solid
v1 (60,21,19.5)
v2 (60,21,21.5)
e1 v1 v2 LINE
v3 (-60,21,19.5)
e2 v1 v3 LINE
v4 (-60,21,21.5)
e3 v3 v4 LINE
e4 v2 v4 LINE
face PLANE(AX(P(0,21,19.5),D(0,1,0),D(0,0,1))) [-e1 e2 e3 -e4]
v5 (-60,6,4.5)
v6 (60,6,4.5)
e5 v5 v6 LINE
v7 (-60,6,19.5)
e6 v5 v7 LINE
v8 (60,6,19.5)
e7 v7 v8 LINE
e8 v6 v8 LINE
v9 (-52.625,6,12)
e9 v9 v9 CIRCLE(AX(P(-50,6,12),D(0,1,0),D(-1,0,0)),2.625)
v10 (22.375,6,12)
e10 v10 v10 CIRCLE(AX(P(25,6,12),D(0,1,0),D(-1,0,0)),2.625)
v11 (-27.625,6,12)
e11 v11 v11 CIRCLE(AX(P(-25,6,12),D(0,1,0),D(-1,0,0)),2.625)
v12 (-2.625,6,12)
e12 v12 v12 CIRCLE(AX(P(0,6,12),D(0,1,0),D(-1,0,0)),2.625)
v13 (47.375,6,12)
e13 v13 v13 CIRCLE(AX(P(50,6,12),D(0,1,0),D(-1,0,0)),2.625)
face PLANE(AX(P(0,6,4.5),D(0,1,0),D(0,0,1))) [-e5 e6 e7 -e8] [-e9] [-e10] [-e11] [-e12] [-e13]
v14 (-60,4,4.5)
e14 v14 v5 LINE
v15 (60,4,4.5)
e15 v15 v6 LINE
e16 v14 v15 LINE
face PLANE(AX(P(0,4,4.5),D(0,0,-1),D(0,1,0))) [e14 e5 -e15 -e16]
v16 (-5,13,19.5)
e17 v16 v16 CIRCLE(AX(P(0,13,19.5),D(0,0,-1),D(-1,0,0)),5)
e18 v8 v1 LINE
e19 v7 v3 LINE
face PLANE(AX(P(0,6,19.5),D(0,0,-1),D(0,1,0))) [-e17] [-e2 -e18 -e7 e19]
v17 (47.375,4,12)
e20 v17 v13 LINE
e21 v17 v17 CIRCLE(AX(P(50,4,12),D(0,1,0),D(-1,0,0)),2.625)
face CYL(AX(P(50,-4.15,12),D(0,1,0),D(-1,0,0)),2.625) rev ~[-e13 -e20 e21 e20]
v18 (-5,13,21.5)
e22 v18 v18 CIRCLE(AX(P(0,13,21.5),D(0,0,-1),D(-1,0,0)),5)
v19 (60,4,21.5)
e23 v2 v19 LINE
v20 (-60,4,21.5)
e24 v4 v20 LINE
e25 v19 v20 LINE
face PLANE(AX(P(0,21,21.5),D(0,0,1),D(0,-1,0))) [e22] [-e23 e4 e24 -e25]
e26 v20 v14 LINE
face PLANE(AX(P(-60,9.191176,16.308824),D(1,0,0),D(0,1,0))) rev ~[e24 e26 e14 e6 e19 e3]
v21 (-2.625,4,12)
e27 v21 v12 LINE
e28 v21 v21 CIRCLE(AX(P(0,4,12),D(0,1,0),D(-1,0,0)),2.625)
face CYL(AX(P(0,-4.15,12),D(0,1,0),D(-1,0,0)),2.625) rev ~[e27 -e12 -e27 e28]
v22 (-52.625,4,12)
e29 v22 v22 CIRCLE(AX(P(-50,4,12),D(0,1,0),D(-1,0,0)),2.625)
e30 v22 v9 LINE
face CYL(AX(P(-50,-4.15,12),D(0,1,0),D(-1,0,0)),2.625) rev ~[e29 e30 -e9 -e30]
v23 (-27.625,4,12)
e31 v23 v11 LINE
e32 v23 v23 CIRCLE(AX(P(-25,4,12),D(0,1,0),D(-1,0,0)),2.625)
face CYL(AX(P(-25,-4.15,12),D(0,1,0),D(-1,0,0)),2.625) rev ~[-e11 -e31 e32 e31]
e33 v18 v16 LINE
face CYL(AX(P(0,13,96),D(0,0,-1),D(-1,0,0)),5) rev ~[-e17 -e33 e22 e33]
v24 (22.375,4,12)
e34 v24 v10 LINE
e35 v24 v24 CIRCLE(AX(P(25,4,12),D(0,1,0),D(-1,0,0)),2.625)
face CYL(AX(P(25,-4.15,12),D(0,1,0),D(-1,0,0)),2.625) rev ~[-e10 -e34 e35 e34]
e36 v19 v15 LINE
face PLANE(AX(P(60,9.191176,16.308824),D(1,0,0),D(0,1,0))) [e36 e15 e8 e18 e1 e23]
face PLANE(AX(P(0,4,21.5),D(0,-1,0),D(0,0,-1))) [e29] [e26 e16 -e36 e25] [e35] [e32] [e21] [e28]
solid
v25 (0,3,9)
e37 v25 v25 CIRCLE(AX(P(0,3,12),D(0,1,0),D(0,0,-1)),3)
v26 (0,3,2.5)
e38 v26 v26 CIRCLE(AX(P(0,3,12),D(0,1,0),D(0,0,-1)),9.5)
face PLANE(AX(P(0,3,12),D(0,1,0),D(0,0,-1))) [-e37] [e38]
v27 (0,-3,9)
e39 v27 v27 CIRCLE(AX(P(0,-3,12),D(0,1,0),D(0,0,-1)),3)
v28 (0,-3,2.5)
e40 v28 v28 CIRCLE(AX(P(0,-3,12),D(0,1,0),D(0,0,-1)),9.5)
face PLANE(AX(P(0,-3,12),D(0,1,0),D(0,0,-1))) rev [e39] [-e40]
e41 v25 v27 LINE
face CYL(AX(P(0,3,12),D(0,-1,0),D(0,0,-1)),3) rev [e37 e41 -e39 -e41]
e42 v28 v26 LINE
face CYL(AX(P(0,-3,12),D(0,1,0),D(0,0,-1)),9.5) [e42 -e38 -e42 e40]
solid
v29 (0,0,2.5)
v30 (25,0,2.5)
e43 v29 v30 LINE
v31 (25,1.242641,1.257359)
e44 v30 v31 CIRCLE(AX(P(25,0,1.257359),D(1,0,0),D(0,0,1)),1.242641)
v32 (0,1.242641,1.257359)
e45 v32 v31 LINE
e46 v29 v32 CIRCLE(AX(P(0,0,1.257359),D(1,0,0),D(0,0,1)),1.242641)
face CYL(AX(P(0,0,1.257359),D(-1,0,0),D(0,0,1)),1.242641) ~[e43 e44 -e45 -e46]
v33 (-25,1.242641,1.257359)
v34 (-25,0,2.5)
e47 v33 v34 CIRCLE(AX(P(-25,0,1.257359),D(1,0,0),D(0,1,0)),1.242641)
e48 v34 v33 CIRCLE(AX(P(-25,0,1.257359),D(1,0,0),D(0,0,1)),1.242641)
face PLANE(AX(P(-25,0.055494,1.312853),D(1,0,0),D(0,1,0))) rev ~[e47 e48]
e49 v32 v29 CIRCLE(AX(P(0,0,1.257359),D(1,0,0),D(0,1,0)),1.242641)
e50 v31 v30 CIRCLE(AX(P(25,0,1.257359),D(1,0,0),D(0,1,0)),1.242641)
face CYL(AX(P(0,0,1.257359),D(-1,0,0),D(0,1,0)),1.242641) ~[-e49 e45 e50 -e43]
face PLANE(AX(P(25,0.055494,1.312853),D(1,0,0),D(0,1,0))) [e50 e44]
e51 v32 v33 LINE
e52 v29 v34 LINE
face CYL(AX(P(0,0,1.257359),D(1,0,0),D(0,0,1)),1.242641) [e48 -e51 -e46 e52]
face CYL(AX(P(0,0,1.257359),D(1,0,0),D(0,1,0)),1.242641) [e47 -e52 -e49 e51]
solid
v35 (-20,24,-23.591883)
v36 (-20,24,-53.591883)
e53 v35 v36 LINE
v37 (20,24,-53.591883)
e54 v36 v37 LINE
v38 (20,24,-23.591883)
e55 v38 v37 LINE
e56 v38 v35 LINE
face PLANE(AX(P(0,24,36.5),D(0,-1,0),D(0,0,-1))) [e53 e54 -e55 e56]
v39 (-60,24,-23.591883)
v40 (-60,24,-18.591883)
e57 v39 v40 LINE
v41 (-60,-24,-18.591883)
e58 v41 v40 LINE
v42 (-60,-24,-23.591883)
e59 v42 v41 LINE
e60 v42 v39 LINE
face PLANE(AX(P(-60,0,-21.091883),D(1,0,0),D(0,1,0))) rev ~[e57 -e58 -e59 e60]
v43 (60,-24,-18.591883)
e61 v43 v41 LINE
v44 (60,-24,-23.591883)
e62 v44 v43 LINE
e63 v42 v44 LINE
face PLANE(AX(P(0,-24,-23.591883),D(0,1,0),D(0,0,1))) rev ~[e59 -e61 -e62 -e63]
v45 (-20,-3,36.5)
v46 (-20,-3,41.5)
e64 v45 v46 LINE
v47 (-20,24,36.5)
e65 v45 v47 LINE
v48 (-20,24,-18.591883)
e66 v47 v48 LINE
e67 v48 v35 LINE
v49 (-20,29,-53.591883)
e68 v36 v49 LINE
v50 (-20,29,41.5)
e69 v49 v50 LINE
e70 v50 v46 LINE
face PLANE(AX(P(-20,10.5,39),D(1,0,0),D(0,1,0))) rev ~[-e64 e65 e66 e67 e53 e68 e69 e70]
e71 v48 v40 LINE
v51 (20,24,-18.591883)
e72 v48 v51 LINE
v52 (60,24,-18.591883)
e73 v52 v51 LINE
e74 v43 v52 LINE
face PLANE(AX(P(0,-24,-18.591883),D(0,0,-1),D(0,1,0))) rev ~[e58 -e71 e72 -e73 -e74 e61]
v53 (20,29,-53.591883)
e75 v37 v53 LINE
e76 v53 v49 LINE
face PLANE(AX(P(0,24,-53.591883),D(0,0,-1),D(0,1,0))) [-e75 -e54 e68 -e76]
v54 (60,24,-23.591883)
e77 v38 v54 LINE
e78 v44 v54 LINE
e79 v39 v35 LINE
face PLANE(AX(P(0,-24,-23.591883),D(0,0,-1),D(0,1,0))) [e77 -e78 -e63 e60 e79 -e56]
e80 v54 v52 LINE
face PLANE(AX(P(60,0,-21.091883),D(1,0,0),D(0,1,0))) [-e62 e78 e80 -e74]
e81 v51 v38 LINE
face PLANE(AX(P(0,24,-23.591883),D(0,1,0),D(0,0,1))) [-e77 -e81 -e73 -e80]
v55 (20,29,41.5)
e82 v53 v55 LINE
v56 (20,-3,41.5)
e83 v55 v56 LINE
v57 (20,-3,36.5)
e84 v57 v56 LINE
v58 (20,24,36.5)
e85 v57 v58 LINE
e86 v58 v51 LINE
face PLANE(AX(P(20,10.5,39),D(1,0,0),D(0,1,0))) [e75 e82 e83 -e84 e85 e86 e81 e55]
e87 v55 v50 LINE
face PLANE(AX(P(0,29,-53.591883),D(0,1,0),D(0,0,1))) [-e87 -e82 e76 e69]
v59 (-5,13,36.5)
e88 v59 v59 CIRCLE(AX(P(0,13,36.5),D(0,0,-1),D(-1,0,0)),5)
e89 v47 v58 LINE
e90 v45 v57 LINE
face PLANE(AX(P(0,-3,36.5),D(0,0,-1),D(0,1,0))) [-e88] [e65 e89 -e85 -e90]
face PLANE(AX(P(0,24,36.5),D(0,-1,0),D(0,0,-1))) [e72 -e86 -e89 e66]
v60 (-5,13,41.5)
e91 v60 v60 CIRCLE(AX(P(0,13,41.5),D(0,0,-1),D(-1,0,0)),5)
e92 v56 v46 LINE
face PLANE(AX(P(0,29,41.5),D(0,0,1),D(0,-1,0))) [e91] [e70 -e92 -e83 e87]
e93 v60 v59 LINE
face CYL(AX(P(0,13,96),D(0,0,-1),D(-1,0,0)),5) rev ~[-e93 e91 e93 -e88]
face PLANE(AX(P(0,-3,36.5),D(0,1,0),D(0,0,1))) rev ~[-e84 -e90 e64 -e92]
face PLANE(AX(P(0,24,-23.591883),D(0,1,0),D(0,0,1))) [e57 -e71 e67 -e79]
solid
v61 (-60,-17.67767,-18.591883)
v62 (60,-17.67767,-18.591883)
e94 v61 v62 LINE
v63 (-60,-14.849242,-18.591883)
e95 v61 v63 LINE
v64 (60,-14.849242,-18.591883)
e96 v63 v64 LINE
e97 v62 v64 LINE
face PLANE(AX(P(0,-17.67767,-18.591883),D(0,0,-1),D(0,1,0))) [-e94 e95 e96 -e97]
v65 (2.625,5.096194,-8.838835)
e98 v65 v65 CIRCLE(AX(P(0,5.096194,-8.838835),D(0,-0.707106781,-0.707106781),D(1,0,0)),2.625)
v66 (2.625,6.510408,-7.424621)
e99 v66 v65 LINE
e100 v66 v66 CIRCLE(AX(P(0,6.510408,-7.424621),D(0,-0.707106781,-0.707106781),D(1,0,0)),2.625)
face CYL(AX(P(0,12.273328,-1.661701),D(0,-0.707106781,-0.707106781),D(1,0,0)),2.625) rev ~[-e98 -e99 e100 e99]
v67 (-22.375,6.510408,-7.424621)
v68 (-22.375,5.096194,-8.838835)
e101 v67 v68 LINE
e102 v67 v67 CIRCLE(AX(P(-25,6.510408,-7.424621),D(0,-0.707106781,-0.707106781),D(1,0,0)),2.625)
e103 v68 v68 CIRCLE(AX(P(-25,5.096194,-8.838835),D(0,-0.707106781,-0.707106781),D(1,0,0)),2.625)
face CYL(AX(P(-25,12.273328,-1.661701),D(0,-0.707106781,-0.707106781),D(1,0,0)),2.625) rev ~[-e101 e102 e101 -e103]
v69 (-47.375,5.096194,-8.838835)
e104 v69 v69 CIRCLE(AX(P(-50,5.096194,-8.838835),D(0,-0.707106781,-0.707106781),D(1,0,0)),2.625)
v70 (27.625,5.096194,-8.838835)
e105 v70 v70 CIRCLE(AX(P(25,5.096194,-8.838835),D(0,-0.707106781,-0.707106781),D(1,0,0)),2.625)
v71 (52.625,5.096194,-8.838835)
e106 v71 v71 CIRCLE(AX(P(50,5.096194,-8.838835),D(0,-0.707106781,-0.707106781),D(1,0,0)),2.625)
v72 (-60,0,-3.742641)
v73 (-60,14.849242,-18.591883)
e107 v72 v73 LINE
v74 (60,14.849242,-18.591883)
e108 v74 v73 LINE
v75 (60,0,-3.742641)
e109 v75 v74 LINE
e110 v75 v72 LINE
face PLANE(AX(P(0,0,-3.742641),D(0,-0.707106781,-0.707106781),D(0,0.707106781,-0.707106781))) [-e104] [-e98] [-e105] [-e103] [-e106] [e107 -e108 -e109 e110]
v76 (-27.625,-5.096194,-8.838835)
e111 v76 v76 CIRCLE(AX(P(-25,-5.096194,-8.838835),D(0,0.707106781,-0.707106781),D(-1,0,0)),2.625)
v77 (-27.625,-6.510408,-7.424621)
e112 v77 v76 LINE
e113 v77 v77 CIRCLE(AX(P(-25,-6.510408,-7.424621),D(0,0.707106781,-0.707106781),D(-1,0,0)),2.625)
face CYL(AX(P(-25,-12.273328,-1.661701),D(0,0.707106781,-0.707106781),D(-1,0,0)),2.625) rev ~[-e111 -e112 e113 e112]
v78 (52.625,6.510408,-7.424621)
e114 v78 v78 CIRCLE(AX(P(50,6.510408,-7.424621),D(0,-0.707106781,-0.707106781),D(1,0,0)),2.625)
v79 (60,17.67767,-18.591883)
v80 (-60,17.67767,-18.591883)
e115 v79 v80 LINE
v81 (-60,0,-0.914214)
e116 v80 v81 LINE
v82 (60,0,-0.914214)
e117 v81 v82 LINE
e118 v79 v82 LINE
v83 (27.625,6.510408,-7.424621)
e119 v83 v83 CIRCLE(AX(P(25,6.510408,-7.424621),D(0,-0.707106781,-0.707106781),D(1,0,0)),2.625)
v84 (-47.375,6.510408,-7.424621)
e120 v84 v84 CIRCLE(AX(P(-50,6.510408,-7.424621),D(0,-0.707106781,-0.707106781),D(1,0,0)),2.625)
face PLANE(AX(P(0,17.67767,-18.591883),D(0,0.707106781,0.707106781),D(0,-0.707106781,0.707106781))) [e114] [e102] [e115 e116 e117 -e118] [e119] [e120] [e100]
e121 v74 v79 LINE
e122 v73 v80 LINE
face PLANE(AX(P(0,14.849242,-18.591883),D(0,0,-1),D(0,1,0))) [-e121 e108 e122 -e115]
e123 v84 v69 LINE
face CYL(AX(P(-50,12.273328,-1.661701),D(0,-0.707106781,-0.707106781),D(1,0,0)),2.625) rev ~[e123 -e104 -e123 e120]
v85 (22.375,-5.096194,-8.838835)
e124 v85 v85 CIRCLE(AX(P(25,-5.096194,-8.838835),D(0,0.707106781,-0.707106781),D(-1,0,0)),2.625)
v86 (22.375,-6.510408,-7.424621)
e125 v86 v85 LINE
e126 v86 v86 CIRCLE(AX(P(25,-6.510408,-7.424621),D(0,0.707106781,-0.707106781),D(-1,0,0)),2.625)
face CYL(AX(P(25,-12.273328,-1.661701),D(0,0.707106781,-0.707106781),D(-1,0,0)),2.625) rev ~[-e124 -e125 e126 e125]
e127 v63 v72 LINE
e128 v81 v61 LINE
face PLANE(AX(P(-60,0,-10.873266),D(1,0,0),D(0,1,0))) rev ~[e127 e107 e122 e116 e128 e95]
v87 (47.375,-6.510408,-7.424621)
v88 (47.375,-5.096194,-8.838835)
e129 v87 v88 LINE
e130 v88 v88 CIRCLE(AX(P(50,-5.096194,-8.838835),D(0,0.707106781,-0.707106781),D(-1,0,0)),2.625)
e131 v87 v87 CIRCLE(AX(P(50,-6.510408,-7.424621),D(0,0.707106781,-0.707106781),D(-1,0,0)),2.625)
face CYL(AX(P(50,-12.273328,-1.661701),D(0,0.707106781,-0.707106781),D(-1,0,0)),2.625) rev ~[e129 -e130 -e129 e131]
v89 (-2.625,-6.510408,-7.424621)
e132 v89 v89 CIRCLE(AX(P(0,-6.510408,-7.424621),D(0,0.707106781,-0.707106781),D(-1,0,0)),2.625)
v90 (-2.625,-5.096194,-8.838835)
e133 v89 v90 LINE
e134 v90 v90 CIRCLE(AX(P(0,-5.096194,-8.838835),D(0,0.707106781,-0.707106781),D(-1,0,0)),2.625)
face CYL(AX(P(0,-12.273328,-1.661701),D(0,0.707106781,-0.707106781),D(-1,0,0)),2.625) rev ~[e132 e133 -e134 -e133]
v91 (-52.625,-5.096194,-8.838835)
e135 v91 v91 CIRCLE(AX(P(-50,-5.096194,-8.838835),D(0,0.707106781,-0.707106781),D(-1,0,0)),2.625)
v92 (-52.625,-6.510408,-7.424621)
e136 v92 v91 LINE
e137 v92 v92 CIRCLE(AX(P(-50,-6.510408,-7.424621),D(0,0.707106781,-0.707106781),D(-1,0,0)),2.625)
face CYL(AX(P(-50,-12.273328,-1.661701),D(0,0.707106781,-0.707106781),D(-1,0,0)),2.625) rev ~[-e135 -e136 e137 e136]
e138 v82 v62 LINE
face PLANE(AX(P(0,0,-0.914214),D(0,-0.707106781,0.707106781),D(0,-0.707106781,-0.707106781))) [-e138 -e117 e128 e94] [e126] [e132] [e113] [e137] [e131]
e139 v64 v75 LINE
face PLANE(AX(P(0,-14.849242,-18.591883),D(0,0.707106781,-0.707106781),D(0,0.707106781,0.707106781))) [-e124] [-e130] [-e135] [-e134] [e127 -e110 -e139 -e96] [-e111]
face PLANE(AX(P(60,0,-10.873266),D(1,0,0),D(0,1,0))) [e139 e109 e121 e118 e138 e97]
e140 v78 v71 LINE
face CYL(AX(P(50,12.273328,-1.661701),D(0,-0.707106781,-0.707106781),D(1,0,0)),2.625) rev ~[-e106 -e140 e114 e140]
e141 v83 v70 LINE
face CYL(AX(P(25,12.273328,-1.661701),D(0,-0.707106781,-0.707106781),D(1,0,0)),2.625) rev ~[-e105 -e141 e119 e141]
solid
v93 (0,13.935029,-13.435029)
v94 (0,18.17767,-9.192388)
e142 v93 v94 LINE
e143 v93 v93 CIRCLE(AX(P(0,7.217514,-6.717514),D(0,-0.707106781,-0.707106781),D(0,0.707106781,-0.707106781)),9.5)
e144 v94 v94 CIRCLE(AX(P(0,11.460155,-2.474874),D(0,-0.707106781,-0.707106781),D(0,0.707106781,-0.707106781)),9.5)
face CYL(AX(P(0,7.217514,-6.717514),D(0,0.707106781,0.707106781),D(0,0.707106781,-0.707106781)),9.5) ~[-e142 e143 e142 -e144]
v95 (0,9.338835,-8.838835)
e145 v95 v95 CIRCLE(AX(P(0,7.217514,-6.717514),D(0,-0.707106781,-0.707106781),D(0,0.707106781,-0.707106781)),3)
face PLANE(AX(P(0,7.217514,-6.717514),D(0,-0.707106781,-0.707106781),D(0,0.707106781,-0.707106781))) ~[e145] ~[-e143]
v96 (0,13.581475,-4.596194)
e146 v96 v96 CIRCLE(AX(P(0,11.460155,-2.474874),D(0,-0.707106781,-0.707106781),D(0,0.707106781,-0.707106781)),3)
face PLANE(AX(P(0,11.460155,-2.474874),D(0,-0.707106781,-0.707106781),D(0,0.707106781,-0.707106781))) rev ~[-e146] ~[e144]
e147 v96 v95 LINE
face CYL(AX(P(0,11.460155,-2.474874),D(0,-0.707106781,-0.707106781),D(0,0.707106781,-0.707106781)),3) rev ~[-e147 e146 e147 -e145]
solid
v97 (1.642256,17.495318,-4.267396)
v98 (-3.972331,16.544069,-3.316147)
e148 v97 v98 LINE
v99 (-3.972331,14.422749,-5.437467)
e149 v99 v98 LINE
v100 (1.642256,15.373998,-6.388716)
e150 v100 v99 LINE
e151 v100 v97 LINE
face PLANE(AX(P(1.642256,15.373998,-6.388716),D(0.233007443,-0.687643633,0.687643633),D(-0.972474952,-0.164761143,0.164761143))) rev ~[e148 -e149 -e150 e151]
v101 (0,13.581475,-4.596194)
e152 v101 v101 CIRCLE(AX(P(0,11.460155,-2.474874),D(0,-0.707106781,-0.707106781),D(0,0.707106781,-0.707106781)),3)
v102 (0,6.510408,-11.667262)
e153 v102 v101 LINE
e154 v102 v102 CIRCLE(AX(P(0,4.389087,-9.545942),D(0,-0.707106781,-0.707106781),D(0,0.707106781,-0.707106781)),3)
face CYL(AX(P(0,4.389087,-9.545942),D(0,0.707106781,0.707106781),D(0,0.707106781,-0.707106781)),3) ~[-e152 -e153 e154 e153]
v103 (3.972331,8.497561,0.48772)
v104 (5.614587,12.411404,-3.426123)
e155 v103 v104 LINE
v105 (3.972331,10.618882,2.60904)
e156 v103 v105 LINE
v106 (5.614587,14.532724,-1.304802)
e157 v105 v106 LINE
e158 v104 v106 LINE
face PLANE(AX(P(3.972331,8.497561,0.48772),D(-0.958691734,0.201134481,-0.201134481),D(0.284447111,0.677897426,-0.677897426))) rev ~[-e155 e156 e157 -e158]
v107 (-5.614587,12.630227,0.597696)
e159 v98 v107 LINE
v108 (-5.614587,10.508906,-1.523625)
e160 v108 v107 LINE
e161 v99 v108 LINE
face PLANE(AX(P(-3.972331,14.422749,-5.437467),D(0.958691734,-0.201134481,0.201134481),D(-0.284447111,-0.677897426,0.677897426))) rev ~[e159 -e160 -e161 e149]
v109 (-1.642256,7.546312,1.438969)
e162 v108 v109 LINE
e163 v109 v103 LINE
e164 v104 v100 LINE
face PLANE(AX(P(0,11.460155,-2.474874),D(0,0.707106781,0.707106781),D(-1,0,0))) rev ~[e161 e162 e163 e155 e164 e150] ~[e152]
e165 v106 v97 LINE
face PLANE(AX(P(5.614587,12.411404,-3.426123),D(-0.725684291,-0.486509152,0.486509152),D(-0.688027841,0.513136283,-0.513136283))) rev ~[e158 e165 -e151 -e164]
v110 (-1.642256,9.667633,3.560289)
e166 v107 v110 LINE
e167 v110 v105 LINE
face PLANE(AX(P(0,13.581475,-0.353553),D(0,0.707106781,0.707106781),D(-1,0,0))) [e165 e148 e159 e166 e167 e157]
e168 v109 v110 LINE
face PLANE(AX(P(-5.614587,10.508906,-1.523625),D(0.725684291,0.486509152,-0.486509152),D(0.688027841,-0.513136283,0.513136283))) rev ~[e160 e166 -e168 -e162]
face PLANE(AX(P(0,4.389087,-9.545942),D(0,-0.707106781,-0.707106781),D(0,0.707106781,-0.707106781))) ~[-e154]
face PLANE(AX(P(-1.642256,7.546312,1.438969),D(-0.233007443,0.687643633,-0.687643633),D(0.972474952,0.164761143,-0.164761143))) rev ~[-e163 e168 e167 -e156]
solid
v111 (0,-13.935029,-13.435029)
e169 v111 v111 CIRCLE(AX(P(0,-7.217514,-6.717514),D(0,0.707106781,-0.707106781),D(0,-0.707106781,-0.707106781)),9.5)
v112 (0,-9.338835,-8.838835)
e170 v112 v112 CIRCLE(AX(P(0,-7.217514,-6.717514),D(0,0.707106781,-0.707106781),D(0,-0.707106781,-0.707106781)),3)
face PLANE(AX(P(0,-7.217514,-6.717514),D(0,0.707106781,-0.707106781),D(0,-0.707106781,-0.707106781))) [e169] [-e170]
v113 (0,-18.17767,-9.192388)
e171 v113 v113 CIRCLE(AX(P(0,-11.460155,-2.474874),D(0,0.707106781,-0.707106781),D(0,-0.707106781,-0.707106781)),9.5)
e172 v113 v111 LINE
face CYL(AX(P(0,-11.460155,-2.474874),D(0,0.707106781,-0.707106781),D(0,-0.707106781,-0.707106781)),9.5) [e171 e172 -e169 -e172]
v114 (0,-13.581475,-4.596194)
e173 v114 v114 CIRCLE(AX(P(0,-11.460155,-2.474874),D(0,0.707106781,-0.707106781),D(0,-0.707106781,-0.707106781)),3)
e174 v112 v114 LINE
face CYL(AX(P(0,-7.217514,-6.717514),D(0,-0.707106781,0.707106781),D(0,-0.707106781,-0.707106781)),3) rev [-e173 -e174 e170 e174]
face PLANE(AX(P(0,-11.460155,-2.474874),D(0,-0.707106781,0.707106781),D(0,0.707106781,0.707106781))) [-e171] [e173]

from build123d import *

# Parameters (mm, degrees)
F5_DEPTH         = 25
F5_DEPTH_BACK    = 25
F7_DEPTH         = 60
F7_DEPTH_BACK    = 60
F10_W            = 48
F10_H            = 5
F11_DEPTH        = 60
F11_DEPTH_BACK   = 60
F12_DEPTH        = 60
F12_DEPTH_BACK   = 60
F10_W_2          = 27
F10_W_3          = 5
F10_H_2          = 30
F13_DEPTH        = 20
F13_DEPTH_BACK   = 20
F15_D            = 5.25
F15_DEPTH        = 8.15
F15_TIP          = 1.5772591249
F15_ON_F8_D      = 5.25
F15_ON_F8_DEPTH  = 8.15
F15_ON_F8_TIP    = 1.5772591249
F15_ON_F14_D     = 5.25
F15_ON_F14_DEPTH = 8.15
F15_ON_F14_TIP   = 1.5772591249
F17_D            = 10
F17_DEPTH        = 54.5
F17_TIP          = 3.0043030951
F17_2_D          = 10
F17_2_DEPTH      = 54.5
F17_2_TIP        = 3.0043030951
F20_R            = 3
F21_DEPTH        = 3


with BuildPart() as f2:
    # F1 (on Right) → F2 (revolve)
    with BuildSketch(Plane.YZ):
        Polygon((-13.581475452, -4.5961940777), (-18.1776695297, -9.1923881554), (-13.9350288425, -13.4350288425), (-9.3388347648, -8.8388347648), align=None)
    revolve(axis=Axis((0, -9.3388347648, -4.5961940777), (0, 0.7071067812, -0.7071067812)))


with BuildPart() as f3:
    # F1 (on Right) → F3 (revolve)
    with BuildSketch(Plane.YZ):
        Polygon((13.9350288425, -13.4350288425), (18.1776695297, -9.1923881554), (13.581475452, -4.5961940777), (9.3388347648, -8.8388347648), align=None)
    revolve(axis=Axis((0, 9.3388347648, -4.5961940777), (0, -0.7071067812, -0.7071067812)))


with BuildPart() as f4:
    # F1 (on Right) → F4 (revolve)
    with BuildSketch(Plane.YZ):
        Polygon((3, 9), (-3, 9), (-3, 2.5), (0, 2.5), (3, 2.5), align=None)
    revolve(axis=Axis((0, 3.3228797838, 12), (0, 1, 0)))


with BuildPart() as f5:
    # F1 (on Right) → F5 (new body, two sides)
    with BuildSketch(Plane.YZ) as f5_sk:
        with BuildLine():
            ThreePointArc((1.2426406871, 1.2573593129), (0.8786796564, 2.1360389693), (0, 2.5))
            ThreePointArc((0, 2.5), (-0.8786796564, 0.3786796564), (1.2426406871, 1.2573593129))
        make_face()
    extrude(amount=F5_DEPTH)
    extrude(f5_sk.sketch, amount=-F5_DEPTH_BACK)


with BuildPart() as f7:
    # F6 (on Right) → F7 (new body, two sides)
    with BuildSketch(Plane.YZ) as f7_sk:
        Polygon((17.6776695297, -18.591883092), (0, -0.9142135624), (-17.6776695297, -18.591883092), (-14.8492424049, -18.591883092), (0, -3.7426406871), (14.8492424049, -18.591883092), align=None)
    extrude(amount=F7_DEPTH)
    extrude(f7_sk.sketch, amount=-F7_DEPTH_BACK)

    # F15
    with Locations(Plane(origin=(0, -0.4571067812, -0.4571067812), x_dir=(-1, 0, 0), z_dir=(0, 0.7071067812, 0.7071067812))):
        with Locations((-50, -9.8535533906), (-25, -9.8535533906), (0, -9.8535533906), (25, -9.8535533906), (50, -9.8535533906)):
            Hole(F15_D / 2, depth=F15_DEPTH)
            with Locations((0, 0, -(F15_DEPTH + F15_TIP / 2))):  # 118° drill point
                Cone(0, F15_D / 2, F15_TIP, mode=Mode.SUBTRACT)

    # F15 on F8
    with Locations(Plane(origin=(0, 0.4571067812, -0.4571067812), x_dir=(1, 0, 0), z_dir=(0, -0.7071067812, 0.7071067812))):
        with Locations((-50, -9.8535533906), (-25, -9.8535533906), (0, -9.8535533906), (25, -9.8535533906), (50, -9.8535533906)):
            Hole(F15_ON_F8_D / 2, depth=F15_ON_F8_DEPTH)
            with Locations((0, 0, -(F15_ON_F8_DEPTH + F15_ON_F8_TIP / 2))):  # 118° drill point
                Cone(0, F15_ON_F8_D / 2, F15_ON_F8_TIP, mode=Mode.SUBTRACT)


with BuildPart() as f11:
    # F10 (on Right) → F11 (new body, two sides)
    with BuildSketch(Plane.YZ) as f11_sk:
        with Locations((0, -21.091883092)):
            Rectangle(F10_W, F10_H)
    extrude(amount=F11_DEPTH)
    extrude(f11_sk.sketch, amount=-F11_DEPTH_BACK)

    # F10 (on Right) → F13 (join, two sides)
    with BuildSketch(Plane.YZ) as f13_sk:
        with Locations((10.5, 39)):
            Rectangle(F10_W_2, F10_H)
        Polygon((24, 36.5), (24, -18.591883092), (24, -23.591883092), (29, -23.591883092), (29, 41.5), (24, 41.5), align=None)
        with Locations((26.5, -38.591883092)):
            Rectangle(F10_W_3, F10_H_2)
    extrude(amount=F13_DEPTH)
    extrude(f13_sk.sketch, amount=-F13_DEPTH_BACK)

    # F17
    with Locations(Plane.XY.offset(41.5)):
        with Locations((0, 13)):
            Hole(F17_D / 2, depth=F17_DEPTH)
            with Locations((0, 0, -(F17_DEPTH + F17_TIP / 2))):  # 118° drill point
                Cone(0, F17_D / 2, F17_TIP, mode=Mode.SUBTRACT)


with BuildPart() as f12:
    # F10 (on Right) → F12 (new body, two sides)
    with BuildSketch(Plane.YZ) as f12_sk:
        Polygon((4, 21.5), (4, 4.5), (6, 4.5), (6, 19.5), (21, 19.5), (21, 21.5), (6, 21.5), align=None)
    extrude(amount=F12_DEPTH)
    extrude(f12_sk.sketch, amount=-F12_DEPTH_BACK)

    # F15 on F14
    with Locations(Plane.XZ.offset(-4)):
        with Locations((-50, 12), (-25, 12), (0, 12), (25, 12), (50, 12)):
            Hole(F15_ON_F14_D / 2, depth=F15_ON_F14_DEPTH)
            with Locations((0, 0, -(F15_ON_F14_DEPTH + F15_ON_F14_TIP / 2))):  # 118° drill point
                Cone(0, F15_ON_F14_D / 2, F15_ON_F14_TIP, mode=Mode.SUBTRACT)

    # F17#2
    with Locations(Plane.XY.offset(41.5)):
        with Locations((0, 13)):
            Hole(F17_2_D / 2, depth=F17_2_DEPTH)
            with Locations((0, 0, -(F17_2_DEPTH + F17_2_TIP / 2))):  # 118° drill point
                Cone(0, F17_2_D / 2, F17_2_TIP, mode=Mode.SUBTRACT)


with BuildPart() as f19:
    # F18 (on Right) → F19 (revolve)
    with BuildSketch(Plane.YZ):
        Polygon((11.4601551084, -2.4748737342), (4.3890872965, -9.545941546), (6.5104076401, -11.6672618896), (13.581475452, -4.5961940777), align=None)
    revolve(axis=Axis((0, 8.4588251656, -5.476203677), (0, -0.7071067812, -0.7071067812)))

    # F20 (on face) → F21 (join)
    with BuildSketch(Plane(origin=(0, 4.4926406871, 4.4926406871), x_dir=(-1, 0, 0), z_dir=(0, 0.7071067812, 0.7071067812))):
        Polygon((3.9723305907, -14.0432935988), (5.6145867509, -8.5082842909), (1.6422561602, -4.3185440828), (-3.9723305907, -5.6638131824), (-5.6145867509, -11.1988224902), (-1.6422561602, -15.3885626984), align=None)
        with Locations((0, -9.8535533906)):
            Circle(F20_R, mode=Mode.SUBTRACT)
        with Locations((0, -9.8535533906)):
            Circle(F20_R)
    extrude(amount=F21_DEPTH)


solid = Compound([f2.part, f3.part, f4.part, f5.part, f7.part, f11.part, f12.part, f19.part])
